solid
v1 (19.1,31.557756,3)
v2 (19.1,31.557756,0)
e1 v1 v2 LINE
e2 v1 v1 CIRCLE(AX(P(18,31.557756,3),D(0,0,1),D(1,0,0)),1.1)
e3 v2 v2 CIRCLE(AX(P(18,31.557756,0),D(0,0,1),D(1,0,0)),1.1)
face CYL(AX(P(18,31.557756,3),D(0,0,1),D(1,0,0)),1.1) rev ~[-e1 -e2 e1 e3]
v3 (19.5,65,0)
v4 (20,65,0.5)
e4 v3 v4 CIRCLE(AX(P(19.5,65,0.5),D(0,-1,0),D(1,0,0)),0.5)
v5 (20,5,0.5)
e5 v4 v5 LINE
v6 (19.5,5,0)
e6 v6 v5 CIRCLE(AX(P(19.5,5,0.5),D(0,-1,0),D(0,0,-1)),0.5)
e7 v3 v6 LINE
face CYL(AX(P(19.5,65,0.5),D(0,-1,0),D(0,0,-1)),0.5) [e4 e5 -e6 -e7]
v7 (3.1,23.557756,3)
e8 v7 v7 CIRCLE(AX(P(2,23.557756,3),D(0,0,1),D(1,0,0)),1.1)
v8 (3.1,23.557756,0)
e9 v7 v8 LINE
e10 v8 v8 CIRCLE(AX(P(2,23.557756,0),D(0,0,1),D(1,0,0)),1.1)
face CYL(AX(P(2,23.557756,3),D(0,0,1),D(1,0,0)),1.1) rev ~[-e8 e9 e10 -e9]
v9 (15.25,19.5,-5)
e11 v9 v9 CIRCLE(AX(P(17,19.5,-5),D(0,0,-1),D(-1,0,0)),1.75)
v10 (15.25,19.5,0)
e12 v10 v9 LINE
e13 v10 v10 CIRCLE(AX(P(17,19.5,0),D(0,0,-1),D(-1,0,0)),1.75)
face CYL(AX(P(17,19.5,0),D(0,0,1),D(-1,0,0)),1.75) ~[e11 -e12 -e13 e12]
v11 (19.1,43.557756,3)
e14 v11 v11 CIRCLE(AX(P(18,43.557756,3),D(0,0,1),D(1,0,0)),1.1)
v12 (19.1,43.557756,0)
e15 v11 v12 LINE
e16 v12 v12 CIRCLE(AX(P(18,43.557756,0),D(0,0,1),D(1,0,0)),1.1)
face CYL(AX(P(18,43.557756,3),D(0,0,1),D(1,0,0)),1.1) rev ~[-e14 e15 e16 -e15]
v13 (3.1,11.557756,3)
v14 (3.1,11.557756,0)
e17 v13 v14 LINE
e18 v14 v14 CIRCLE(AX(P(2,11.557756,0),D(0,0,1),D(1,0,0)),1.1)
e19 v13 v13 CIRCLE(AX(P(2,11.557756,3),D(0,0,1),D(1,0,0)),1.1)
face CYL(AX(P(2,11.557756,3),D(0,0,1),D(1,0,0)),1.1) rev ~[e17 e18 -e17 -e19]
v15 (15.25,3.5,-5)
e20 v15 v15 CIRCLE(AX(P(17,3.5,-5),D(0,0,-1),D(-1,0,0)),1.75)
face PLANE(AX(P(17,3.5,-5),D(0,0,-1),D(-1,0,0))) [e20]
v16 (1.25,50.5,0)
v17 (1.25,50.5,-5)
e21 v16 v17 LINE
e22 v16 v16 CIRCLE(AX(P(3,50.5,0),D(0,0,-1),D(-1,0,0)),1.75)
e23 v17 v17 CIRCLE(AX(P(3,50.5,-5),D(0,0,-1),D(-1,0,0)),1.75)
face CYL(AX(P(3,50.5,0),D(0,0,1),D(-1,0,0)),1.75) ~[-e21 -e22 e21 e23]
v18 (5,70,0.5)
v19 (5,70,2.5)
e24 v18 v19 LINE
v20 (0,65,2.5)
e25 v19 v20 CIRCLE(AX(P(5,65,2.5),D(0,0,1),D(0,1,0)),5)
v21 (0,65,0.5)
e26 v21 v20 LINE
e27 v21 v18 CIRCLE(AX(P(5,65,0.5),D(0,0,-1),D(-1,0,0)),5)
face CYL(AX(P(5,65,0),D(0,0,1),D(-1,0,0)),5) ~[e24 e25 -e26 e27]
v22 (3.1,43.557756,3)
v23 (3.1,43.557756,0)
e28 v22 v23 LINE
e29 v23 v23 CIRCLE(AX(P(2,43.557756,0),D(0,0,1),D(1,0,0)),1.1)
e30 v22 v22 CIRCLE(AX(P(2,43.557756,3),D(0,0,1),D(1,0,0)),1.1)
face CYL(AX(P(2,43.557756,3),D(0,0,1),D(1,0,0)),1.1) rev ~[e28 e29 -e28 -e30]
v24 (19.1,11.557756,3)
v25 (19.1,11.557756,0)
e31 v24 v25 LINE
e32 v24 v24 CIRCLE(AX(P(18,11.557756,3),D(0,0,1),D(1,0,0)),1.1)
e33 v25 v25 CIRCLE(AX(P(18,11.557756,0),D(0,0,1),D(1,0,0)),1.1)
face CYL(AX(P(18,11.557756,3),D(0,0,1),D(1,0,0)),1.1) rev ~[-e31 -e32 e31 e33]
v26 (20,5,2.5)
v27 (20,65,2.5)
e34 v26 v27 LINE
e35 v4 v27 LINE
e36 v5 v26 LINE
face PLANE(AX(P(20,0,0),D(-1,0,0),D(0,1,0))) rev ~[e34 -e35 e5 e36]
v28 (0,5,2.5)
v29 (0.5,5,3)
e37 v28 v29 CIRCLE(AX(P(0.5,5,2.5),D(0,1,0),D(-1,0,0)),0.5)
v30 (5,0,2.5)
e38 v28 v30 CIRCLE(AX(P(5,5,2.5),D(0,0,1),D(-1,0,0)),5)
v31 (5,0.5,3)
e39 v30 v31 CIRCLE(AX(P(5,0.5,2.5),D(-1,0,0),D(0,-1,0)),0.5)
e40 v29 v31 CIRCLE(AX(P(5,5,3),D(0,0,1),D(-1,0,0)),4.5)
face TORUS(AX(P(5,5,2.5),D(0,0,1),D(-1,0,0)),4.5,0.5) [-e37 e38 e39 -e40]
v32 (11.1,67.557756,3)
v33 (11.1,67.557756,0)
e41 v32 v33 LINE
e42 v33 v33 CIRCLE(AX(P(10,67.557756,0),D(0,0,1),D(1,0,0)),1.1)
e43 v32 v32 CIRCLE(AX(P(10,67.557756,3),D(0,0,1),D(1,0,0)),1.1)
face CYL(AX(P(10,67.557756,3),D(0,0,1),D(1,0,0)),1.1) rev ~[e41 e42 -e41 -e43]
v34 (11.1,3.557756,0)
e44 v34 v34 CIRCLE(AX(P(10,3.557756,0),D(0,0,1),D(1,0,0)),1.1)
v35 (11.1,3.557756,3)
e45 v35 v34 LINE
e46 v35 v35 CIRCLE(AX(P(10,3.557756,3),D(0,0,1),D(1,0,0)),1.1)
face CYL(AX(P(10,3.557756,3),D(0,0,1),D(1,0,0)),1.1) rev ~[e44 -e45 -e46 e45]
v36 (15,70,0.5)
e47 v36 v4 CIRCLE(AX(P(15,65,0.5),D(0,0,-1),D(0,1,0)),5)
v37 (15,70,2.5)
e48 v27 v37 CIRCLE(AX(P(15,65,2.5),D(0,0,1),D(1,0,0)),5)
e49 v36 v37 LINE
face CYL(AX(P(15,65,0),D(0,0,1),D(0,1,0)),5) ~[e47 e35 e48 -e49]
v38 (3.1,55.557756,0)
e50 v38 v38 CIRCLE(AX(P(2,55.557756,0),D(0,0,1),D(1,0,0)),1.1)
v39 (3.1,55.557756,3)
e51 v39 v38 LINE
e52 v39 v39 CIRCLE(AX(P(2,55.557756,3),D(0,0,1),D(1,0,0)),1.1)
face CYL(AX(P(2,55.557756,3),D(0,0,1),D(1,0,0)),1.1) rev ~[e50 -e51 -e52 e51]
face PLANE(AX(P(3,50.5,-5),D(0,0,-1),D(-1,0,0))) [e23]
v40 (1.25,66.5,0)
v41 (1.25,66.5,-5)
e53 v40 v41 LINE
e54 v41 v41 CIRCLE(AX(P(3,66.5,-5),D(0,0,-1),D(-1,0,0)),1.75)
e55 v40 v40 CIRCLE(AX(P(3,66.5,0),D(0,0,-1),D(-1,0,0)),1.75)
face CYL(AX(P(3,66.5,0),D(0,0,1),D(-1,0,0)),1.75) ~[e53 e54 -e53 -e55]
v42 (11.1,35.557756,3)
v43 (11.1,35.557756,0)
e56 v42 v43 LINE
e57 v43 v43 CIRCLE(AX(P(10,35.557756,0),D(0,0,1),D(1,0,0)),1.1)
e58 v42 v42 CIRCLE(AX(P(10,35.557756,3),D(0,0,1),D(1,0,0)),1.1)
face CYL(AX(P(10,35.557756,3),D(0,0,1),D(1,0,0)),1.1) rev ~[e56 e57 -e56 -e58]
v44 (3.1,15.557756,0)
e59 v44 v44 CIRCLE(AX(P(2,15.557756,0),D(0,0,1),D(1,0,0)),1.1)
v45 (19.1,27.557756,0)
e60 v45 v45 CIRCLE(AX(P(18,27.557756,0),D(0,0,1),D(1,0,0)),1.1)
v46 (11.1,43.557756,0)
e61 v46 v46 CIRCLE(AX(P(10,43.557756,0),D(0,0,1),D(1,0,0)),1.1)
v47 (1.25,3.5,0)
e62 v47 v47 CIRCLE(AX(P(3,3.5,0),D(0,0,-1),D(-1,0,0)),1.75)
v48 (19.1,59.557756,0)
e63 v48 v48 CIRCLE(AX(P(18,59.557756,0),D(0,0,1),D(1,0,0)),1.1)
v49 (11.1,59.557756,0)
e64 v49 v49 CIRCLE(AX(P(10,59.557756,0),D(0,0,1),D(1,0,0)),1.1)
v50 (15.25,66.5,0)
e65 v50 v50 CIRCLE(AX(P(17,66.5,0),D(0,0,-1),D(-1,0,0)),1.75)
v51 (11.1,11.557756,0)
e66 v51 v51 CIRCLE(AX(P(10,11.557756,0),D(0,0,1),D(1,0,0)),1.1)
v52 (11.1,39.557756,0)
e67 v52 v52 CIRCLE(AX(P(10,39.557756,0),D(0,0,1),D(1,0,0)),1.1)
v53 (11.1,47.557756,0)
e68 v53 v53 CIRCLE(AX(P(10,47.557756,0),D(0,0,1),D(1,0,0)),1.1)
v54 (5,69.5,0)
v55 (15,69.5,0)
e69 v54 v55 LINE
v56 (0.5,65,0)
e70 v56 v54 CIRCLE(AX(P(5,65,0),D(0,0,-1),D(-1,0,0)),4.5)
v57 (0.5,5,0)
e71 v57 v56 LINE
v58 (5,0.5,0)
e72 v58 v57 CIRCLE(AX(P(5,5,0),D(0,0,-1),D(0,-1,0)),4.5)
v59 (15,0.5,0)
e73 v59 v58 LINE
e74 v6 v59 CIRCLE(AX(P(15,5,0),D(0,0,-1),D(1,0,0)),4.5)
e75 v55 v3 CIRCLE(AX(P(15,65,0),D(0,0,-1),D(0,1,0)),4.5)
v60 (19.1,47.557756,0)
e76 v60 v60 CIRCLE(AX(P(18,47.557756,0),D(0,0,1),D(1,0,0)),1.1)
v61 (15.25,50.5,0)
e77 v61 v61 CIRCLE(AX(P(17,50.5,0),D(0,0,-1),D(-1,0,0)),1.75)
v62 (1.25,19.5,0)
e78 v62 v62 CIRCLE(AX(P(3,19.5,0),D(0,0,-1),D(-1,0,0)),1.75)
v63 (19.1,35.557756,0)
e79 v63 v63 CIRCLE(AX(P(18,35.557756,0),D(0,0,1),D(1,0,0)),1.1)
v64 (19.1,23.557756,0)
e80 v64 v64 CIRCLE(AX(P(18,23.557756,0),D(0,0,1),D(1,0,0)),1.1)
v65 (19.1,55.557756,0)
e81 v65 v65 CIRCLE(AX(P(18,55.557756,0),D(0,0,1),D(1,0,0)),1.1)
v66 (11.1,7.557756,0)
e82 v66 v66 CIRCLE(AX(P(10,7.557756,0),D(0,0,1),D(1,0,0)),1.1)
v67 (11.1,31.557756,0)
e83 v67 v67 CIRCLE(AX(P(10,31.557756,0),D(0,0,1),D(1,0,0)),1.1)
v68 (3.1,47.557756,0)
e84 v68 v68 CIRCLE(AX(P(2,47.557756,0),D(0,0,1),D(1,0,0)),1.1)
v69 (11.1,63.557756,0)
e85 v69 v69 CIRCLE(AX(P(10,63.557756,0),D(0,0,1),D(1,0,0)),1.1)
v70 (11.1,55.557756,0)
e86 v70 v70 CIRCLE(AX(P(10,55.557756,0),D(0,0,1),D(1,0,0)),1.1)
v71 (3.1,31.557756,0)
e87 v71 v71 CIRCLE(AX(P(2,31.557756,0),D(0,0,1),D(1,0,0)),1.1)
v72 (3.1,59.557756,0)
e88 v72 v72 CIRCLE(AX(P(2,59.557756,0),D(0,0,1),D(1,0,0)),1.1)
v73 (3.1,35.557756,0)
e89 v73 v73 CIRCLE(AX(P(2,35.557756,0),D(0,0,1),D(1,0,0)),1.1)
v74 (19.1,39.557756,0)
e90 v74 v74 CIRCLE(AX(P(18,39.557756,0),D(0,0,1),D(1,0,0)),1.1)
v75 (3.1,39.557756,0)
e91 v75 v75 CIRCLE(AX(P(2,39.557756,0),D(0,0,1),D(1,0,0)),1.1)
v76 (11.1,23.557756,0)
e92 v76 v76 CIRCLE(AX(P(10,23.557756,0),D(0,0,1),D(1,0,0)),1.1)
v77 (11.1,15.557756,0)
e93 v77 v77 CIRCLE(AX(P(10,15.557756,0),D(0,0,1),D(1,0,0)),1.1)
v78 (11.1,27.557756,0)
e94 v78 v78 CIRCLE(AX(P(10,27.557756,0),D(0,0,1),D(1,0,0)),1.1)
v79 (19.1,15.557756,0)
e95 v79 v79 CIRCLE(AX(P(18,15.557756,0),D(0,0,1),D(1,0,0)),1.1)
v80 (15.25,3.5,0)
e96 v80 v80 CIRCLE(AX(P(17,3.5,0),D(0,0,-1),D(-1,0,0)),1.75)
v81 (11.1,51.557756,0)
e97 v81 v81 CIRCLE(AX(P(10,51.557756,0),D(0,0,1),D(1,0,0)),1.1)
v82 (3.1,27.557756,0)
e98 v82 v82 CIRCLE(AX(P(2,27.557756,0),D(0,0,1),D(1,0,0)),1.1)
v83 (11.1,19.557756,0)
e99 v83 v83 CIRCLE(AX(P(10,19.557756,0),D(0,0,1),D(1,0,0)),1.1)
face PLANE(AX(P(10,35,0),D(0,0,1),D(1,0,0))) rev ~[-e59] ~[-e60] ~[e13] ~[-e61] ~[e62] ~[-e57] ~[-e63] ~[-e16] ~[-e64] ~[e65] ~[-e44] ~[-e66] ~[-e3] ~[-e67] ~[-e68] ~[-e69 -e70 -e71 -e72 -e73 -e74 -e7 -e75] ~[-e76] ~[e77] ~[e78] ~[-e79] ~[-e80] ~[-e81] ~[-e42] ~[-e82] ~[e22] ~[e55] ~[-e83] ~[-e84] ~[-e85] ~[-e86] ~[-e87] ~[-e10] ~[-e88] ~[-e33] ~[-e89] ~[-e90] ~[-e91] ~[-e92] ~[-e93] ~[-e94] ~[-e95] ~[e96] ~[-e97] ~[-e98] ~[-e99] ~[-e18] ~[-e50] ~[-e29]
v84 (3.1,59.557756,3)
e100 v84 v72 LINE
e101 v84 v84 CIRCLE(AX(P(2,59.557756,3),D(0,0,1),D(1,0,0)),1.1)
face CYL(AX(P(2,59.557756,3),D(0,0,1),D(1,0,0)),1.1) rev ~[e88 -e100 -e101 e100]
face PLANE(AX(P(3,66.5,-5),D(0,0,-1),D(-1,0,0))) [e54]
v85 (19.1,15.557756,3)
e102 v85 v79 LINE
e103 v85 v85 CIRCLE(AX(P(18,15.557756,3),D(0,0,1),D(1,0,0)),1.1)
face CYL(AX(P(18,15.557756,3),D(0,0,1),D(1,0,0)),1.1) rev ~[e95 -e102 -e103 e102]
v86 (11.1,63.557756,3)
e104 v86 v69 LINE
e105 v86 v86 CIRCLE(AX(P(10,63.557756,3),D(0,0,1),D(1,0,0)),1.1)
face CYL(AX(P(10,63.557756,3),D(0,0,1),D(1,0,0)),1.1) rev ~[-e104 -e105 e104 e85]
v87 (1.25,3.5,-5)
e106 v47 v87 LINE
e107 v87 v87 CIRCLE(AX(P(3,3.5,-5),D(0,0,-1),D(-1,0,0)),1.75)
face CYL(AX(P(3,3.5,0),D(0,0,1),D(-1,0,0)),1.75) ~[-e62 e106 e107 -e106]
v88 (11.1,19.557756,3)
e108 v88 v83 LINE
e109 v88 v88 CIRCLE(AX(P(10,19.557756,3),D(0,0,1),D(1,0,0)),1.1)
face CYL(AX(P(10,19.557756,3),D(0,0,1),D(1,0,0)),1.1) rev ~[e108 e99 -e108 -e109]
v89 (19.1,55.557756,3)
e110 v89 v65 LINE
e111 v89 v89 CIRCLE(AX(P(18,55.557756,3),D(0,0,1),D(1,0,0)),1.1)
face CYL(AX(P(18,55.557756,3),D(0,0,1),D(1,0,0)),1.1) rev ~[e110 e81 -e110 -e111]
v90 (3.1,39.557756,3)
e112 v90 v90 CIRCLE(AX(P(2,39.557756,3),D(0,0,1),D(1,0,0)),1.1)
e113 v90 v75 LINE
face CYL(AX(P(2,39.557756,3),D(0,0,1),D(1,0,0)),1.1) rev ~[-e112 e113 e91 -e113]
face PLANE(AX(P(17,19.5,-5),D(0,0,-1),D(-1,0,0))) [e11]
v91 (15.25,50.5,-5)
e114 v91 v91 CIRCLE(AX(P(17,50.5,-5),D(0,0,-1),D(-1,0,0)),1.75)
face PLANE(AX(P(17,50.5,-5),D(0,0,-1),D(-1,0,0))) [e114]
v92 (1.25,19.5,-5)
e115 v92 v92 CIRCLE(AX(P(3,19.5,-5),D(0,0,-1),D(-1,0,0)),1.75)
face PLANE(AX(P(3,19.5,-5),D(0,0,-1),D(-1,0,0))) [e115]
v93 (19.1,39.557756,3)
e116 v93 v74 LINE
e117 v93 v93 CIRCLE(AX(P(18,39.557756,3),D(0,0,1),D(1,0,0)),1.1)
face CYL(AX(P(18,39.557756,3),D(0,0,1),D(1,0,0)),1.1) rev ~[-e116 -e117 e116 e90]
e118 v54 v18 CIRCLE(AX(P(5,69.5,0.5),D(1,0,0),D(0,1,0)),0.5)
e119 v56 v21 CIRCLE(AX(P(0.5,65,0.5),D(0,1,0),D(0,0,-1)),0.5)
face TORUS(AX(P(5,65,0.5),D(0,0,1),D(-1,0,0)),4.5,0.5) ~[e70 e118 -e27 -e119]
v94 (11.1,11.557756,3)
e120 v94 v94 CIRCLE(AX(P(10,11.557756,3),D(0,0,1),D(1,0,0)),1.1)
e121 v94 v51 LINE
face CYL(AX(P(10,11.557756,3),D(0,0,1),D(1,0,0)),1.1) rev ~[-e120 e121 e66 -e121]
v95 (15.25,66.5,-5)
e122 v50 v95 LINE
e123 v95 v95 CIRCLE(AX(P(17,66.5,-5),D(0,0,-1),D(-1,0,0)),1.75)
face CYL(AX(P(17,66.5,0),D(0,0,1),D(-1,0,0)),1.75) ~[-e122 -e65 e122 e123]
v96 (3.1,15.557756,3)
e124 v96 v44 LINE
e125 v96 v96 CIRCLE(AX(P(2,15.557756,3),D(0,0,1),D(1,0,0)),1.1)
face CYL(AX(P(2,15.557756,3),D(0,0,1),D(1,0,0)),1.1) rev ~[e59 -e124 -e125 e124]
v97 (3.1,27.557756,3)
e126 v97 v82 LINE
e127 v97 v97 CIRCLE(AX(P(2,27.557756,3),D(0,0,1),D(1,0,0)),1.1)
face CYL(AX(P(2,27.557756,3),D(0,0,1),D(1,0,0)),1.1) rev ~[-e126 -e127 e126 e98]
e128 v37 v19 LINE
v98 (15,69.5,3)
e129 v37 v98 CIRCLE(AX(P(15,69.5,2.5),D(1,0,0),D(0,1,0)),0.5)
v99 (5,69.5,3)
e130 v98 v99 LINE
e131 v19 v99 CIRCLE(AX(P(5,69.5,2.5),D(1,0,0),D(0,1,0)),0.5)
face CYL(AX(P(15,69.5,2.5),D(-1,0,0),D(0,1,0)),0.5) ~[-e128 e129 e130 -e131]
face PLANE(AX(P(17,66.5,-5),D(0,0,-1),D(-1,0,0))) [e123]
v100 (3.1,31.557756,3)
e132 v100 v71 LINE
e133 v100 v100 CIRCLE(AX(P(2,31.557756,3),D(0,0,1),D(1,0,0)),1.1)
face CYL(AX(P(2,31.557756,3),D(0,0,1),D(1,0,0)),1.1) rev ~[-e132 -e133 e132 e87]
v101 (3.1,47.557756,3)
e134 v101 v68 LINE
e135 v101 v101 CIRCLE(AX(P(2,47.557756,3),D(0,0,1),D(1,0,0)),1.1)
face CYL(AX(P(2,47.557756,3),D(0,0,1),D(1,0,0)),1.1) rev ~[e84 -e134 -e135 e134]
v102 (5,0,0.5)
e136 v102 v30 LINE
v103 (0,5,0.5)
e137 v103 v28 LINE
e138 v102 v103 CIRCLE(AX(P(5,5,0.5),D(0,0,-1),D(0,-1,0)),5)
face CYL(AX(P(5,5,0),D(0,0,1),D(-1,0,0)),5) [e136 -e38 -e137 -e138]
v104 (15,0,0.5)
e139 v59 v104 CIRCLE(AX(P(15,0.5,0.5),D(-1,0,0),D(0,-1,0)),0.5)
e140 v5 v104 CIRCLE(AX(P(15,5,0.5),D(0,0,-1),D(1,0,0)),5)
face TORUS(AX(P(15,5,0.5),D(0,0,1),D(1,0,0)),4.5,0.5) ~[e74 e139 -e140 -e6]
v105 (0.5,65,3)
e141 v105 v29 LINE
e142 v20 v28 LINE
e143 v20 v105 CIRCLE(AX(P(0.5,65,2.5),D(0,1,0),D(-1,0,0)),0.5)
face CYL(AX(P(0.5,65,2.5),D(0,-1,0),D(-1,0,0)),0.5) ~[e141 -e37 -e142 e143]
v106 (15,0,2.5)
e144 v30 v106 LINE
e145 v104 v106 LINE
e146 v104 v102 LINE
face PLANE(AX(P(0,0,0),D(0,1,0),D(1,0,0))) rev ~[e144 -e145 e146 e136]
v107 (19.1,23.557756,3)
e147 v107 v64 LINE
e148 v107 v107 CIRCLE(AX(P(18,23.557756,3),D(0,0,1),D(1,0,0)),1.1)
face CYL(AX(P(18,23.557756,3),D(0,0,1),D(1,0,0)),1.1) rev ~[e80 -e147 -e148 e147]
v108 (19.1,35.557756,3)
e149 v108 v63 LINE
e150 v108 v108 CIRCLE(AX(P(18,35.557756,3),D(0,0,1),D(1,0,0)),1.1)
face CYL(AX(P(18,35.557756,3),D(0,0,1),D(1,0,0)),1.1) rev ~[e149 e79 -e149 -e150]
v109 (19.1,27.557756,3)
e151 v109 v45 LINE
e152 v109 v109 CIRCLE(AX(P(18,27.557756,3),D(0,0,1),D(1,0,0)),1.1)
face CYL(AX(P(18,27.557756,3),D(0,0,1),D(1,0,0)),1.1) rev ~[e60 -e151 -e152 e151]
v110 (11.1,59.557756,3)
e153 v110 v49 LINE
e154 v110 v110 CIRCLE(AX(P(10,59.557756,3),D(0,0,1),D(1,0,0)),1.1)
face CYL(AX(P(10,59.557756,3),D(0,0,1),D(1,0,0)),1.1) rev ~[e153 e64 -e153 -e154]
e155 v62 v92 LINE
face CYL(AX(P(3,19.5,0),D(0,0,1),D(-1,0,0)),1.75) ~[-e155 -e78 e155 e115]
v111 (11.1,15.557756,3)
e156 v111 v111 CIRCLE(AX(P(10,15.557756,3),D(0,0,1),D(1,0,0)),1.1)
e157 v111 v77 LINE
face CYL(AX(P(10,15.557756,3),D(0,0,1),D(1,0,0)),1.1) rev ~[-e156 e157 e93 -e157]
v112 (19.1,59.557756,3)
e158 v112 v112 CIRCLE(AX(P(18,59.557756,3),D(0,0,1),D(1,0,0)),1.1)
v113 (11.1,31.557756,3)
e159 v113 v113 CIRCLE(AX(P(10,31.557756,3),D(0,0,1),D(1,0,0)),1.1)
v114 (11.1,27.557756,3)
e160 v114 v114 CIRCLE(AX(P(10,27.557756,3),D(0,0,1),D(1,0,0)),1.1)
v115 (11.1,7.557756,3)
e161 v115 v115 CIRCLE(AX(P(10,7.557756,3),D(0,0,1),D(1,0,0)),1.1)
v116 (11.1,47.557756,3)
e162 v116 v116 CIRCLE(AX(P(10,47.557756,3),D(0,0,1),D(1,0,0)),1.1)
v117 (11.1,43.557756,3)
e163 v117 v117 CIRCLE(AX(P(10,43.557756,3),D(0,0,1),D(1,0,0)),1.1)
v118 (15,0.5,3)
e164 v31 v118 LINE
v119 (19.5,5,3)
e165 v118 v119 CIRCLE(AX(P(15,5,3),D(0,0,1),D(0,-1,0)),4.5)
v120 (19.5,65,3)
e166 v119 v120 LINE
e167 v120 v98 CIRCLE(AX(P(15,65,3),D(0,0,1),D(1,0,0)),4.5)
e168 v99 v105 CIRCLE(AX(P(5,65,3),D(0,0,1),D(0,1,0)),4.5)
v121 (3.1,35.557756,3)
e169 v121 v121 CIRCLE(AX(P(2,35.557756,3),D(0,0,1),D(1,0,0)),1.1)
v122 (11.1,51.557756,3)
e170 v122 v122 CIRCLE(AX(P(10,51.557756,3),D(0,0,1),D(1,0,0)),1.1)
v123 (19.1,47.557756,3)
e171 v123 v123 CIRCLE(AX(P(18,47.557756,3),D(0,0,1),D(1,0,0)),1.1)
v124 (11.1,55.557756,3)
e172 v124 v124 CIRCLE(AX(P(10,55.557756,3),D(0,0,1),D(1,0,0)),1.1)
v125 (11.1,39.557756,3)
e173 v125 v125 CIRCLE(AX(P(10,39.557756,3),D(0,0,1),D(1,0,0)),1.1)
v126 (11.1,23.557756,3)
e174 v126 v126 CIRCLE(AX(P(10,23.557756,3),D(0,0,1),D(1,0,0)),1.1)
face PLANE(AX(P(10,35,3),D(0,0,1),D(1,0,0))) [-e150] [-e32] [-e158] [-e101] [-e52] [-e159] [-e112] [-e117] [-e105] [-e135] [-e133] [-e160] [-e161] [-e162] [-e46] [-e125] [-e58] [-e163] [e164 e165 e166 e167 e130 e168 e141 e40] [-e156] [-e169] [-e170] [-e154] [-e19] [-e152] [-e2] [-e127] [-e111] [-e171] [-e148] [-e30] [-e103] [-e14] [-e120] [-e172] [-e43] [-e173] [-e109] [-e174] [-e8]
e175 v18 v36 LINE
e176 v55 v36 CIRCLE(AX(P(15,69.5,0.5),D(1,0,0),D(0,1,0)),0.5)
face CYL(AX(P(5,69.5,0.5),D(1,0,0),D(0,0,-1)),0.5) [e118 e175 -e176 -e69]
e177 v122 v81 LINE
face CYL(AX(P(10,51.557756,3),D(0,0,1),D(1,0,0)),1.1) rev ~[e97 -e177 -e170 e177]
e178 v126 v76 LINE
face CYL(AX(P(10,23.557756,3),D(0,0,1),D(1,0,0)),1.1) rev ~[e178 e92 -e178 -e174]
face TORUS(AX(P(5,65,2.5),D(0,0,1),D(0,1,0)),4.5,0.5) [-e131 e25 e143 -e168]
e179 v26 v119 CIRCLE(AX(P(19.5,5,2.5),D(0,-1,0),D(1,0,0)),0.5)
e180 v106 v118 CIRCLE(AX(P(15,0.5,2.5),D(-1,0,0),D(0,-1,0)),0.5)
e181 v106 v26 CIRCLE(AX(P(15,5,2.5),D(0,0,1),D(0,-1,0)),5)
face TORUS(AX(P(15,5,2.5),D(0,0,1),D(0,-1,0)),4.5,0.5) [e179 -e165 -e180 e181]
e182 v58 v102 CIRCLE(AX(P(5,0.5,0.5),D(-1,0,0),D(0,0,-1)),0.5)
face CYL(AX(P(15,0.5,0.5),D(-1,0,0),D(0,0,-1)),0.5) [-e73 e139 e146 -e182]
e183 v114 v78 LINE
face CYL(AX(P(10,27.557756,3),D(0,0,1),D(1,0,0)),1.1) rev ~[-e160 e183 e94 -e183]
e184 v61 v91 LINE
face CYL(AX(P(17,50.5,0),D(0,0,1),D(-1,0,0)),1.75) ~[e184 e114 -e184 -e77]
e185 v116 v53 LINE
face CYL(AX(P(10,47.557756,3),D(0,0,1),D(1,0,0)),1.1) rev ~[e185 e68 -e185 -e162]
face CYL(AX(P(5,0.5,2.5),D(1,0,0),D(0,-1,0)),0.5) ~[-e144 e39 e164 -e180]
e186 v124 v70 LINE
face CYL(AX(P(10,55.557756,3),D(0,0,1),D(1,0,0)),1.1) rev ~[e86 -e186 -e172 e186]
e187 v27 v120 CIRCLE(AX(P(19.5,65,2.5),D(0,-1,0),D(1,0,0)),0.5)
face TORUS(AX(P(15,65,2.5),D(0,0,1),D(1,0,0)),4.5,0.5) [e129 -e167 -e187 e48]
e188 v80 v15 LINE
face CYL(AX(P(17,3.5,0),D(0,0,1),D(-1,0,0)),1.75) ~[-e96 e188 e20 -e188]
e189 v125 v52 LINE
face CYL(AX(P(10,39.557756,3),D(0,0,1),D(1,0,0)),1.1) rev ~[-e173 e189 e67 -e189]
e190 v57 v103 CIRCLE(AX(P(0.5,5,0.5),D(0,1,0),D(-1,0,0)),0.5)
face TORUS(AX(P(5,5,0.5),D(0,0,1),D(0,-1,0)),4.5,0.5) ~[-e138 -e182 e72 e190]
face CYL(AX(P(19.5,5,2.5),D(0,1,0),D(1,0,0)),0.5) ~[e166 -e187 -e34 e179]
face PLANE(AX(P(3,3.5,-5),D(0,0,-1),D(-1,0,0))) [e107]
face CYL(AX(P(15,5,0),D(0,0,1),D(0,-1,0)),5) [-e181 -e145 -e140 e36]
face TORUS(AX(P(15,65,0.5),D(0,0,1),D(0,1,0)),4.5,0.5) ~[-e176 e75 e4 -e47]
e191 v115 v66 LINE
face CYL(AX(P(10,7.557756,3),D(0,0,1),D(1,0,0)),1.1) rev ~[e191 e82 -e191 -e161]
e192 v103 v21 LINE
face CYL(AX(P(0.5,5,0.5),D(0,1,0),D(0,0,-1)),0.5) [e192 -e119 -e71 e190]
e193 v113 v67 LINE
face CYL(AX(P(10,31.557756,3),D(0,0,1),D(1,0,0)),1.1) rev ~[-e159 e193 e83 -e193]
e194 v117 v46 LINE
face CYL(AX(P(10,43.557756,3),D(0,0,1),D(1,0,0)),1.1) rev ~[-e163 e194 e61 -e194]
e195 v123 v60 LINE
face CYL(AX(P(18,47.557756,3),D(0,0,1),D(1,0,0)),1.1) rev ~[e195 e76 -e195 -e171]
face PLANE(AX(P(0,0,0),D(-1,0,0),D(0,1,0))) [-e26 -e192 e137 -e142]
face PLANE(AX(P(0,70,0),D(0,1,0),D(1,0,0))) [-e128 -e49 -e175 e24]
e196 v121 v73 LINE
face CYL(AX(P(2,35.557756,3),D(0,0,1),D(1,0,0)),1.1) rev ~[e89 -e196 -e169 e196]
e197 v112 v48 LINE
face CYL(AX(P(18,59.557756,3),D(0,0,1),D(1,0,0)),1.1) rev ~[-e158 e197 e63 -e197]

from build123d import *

# Parameters (mm, degrees)
ESQUISSE1_W             = 20
ESQUISSE1_H             = 70
BOSS_EXTRU_1_DEPTH      = 3
ESQUISSE2_R             = 1.75
BOSS_EXTRU_2_DEPTH      = 5
ESQUISSE3_R             = 1.1
ENL_V_MAT_EXTRU_1_DEPTH = 5
CONG_1_R                = 5
CONG_2_R                = 0.5


with BuildPart() as part:
    # Esquisse1 → Boss.-Extru.1 (new body)
    with BuildSketch(Plane.XY):
        with Locations((10, 35)):
            Rectangle(ESQUISSE1_W, ESQUISSE1_H)
    extrude(amount=BOSS_EXTRU_1_DEPTH)

    # Esquisse2 → Boss.-Extru.2 (add)
    with BuildSketch(Plane(origin=(0, 0, 0), x_dir=(-1, 0, 0), z_dir=(0, 0, -1))):
        with Locations((-17, 66.5)):
            Circle(ESQUISSE2_R)
        with Locations((-3, 66.5)):
            Circle(ESQUISSE2_R)
        with Locations((-17, 50.5)):
            Circle(ESQUISSE2_R)
        with Locations((-3, 50.5)):
            Circle(ESQUISSE2_R)
        with Locations((-17, 19.5)):
            Circle(ESQUISSE2_R)
        with Locations((-3, 19.5)):
            Circle(ESQUISSE2_R)
        with Locations((-17, 3.5)):
            Circle(ESQUISSE2_R)
        with Locations((-3, 3.5)):
            Circle(ESQUISSE2_R)
    extrude(amount=BOSS_EXTRU_2_DEPTH)

    # Esquisse3 → Enlèv. mat.-Extru.1 (cut)
    with BuildSketch(Plane.XY.offset(3)):
        with Locations((10, 67.557756062)):
            Circle(ESQUISSE3_R)
        with Locations((10, 3.557756062)):
            Circle(ESQUISSE3_R)
        with Locations((10, 7.557756062)):
            Circle(ESQUISSE3_R)
        with Locations((10, 11.557756062)):
            Circle(ESQUISSE3_R)
        with Locations((10, 15.557756062)):
            Circle(ESQUISSE3_R)
        with Locations((10, 19.557756062)):
            Circle(ESQUISSE3_R)
        with Locations((10, 23.557756062)):
            Circle(ESQUISSE3_R)
        with Locations((10, 27.557756062)):
            Circle(ESQUISSE3_R)
        with Locations((10, 31.557756062)):
            Circle(ESQUISSE3_R)
        with Locations((10, 35.557756062)):
            Circle(ESQUISSE3_R)
        with Locations((10, 39.557756062)):
            Circle(ESQUISSE3_R)
        with Locations((10, 43.557756062)):
            Circle(ESQUISSE3_R)
        with Locations((10, 47.557756062)):
            Circle(ESQUISSE3_R)
        with Locations((10, 51.557756062)):
            Circle(ESQUISSE3_R)
        with Locations((10, 55.557756062)):
            Circle(ESQUISSE3_R)
        with Locations((10, 59.557756062)):
            Circle(ESQUISSE3_R)
        with Locations((10, 63.557756062)):
            Circle(ESQUISSE3_R)
        with Locations((2, 59.557756062)):
            Circle(ESQUISSE3_R)
        with Locations((18, 59.557756062)):
            Circle(ESQUISSE3_R)
        with Locations((2, 55.557756062)):
            Circle(ESQUISSE3_R)
        with Locations((18, 55.557756062)):
            Circle(ESQUISSE3_R)
        with Locations((2, 47.557756062)):
            Circle(ESQUISSE3_R)
        with Locations((18, 47.557756062)):
            Circle(ESQUISSE3_R)
        with Locations((2, 43.557756062)):
            Circle(ESQUISSE3_R)
        with Locations((18, 43.557756062)):
            Circle(ESQUISSE3_R)
        with Locations((2, 39.557756062)):
            Circle(ESQUISSE3_R)
        with Locations((18, 39.557756062)):
            Circle(ESQUISSE3_R)
        with Locations((2, 35.557756062)):
            Circle(ESQUISSE3_R)
        with Locations((18, 35.557756062)):
            Circle(ESQUISSE3_R)
        with Locations((2, 31.557756062)):
            Circle(ESQUISSE3_R)
        with Locations((18, 31.557756062)):
            Circle(ESQUISSE3_R)
        with Locations((2, 27.557756062)):
            Circle(ESQUISSE3_R)
        with Locations((18, 27.557756062)):
            Circle(ESQUISSE3_R)
        with Locations((2, 23.557756062)):
            Circle(ESQUISSE3_R)
        with Locations((18, 23.557756062)):
            Circle(ESQUISSE3_R)
        with Locations((2, 15.557756062)):
            Circle(ESQUISSE3_R)
        with Locations((18, 15.557756062)):
            Circle(ESQUISSE3_R)
        with Locations((2, 11.557756062)):
            Circle(ESQUISSE3_R)
        with Locations((18, 11.557756062)):
            Circle(ESQUISSE3_R)
    extrude(amount=-ENL_V_MAT_EXTRU_1_DEPTH, mode=Mode.SUBTRACT)

    # Congé1
    cong_1_edges = [part.edges().sort_by_distance(p)[0] for p in [
        (20, 70, 1.5),
        (20, 0, 1.5),
        (0, 0, 1.5),
        (0, 70, 1.5),
    ]]
    fillet(cong_1_edges, radius=CONG_1_R)

    # Congé2
    cong_2_edges = [part.edges().sort_by_distance(p)[0] for p in [
        (18.535533906, 68.535533906, 0),
        (10, 70, 0),
        (1.464466094, 68.535533906, 0),
        (0, 35, 0),
        (1.464466094, 1.464466094, 0),
        (10, 0, 0),
        (20, 35, 0),
        (18.535533906, 1.464466094, 0),
        (1.464466094, 1.464466094, 3),
        (10, 0, 3),
        (18.535533906, 1.464466094, 3),
        (0, 35, 3),
        (1.464466094, 68.535533906, 3),
        (20, 35, 3),
        (18.535533906, 68.535533906, 3),
        (10, 70, 3),
    ]]
    fillet(cong_2_edges, radius=CONG_2_R)


solid = part.part
